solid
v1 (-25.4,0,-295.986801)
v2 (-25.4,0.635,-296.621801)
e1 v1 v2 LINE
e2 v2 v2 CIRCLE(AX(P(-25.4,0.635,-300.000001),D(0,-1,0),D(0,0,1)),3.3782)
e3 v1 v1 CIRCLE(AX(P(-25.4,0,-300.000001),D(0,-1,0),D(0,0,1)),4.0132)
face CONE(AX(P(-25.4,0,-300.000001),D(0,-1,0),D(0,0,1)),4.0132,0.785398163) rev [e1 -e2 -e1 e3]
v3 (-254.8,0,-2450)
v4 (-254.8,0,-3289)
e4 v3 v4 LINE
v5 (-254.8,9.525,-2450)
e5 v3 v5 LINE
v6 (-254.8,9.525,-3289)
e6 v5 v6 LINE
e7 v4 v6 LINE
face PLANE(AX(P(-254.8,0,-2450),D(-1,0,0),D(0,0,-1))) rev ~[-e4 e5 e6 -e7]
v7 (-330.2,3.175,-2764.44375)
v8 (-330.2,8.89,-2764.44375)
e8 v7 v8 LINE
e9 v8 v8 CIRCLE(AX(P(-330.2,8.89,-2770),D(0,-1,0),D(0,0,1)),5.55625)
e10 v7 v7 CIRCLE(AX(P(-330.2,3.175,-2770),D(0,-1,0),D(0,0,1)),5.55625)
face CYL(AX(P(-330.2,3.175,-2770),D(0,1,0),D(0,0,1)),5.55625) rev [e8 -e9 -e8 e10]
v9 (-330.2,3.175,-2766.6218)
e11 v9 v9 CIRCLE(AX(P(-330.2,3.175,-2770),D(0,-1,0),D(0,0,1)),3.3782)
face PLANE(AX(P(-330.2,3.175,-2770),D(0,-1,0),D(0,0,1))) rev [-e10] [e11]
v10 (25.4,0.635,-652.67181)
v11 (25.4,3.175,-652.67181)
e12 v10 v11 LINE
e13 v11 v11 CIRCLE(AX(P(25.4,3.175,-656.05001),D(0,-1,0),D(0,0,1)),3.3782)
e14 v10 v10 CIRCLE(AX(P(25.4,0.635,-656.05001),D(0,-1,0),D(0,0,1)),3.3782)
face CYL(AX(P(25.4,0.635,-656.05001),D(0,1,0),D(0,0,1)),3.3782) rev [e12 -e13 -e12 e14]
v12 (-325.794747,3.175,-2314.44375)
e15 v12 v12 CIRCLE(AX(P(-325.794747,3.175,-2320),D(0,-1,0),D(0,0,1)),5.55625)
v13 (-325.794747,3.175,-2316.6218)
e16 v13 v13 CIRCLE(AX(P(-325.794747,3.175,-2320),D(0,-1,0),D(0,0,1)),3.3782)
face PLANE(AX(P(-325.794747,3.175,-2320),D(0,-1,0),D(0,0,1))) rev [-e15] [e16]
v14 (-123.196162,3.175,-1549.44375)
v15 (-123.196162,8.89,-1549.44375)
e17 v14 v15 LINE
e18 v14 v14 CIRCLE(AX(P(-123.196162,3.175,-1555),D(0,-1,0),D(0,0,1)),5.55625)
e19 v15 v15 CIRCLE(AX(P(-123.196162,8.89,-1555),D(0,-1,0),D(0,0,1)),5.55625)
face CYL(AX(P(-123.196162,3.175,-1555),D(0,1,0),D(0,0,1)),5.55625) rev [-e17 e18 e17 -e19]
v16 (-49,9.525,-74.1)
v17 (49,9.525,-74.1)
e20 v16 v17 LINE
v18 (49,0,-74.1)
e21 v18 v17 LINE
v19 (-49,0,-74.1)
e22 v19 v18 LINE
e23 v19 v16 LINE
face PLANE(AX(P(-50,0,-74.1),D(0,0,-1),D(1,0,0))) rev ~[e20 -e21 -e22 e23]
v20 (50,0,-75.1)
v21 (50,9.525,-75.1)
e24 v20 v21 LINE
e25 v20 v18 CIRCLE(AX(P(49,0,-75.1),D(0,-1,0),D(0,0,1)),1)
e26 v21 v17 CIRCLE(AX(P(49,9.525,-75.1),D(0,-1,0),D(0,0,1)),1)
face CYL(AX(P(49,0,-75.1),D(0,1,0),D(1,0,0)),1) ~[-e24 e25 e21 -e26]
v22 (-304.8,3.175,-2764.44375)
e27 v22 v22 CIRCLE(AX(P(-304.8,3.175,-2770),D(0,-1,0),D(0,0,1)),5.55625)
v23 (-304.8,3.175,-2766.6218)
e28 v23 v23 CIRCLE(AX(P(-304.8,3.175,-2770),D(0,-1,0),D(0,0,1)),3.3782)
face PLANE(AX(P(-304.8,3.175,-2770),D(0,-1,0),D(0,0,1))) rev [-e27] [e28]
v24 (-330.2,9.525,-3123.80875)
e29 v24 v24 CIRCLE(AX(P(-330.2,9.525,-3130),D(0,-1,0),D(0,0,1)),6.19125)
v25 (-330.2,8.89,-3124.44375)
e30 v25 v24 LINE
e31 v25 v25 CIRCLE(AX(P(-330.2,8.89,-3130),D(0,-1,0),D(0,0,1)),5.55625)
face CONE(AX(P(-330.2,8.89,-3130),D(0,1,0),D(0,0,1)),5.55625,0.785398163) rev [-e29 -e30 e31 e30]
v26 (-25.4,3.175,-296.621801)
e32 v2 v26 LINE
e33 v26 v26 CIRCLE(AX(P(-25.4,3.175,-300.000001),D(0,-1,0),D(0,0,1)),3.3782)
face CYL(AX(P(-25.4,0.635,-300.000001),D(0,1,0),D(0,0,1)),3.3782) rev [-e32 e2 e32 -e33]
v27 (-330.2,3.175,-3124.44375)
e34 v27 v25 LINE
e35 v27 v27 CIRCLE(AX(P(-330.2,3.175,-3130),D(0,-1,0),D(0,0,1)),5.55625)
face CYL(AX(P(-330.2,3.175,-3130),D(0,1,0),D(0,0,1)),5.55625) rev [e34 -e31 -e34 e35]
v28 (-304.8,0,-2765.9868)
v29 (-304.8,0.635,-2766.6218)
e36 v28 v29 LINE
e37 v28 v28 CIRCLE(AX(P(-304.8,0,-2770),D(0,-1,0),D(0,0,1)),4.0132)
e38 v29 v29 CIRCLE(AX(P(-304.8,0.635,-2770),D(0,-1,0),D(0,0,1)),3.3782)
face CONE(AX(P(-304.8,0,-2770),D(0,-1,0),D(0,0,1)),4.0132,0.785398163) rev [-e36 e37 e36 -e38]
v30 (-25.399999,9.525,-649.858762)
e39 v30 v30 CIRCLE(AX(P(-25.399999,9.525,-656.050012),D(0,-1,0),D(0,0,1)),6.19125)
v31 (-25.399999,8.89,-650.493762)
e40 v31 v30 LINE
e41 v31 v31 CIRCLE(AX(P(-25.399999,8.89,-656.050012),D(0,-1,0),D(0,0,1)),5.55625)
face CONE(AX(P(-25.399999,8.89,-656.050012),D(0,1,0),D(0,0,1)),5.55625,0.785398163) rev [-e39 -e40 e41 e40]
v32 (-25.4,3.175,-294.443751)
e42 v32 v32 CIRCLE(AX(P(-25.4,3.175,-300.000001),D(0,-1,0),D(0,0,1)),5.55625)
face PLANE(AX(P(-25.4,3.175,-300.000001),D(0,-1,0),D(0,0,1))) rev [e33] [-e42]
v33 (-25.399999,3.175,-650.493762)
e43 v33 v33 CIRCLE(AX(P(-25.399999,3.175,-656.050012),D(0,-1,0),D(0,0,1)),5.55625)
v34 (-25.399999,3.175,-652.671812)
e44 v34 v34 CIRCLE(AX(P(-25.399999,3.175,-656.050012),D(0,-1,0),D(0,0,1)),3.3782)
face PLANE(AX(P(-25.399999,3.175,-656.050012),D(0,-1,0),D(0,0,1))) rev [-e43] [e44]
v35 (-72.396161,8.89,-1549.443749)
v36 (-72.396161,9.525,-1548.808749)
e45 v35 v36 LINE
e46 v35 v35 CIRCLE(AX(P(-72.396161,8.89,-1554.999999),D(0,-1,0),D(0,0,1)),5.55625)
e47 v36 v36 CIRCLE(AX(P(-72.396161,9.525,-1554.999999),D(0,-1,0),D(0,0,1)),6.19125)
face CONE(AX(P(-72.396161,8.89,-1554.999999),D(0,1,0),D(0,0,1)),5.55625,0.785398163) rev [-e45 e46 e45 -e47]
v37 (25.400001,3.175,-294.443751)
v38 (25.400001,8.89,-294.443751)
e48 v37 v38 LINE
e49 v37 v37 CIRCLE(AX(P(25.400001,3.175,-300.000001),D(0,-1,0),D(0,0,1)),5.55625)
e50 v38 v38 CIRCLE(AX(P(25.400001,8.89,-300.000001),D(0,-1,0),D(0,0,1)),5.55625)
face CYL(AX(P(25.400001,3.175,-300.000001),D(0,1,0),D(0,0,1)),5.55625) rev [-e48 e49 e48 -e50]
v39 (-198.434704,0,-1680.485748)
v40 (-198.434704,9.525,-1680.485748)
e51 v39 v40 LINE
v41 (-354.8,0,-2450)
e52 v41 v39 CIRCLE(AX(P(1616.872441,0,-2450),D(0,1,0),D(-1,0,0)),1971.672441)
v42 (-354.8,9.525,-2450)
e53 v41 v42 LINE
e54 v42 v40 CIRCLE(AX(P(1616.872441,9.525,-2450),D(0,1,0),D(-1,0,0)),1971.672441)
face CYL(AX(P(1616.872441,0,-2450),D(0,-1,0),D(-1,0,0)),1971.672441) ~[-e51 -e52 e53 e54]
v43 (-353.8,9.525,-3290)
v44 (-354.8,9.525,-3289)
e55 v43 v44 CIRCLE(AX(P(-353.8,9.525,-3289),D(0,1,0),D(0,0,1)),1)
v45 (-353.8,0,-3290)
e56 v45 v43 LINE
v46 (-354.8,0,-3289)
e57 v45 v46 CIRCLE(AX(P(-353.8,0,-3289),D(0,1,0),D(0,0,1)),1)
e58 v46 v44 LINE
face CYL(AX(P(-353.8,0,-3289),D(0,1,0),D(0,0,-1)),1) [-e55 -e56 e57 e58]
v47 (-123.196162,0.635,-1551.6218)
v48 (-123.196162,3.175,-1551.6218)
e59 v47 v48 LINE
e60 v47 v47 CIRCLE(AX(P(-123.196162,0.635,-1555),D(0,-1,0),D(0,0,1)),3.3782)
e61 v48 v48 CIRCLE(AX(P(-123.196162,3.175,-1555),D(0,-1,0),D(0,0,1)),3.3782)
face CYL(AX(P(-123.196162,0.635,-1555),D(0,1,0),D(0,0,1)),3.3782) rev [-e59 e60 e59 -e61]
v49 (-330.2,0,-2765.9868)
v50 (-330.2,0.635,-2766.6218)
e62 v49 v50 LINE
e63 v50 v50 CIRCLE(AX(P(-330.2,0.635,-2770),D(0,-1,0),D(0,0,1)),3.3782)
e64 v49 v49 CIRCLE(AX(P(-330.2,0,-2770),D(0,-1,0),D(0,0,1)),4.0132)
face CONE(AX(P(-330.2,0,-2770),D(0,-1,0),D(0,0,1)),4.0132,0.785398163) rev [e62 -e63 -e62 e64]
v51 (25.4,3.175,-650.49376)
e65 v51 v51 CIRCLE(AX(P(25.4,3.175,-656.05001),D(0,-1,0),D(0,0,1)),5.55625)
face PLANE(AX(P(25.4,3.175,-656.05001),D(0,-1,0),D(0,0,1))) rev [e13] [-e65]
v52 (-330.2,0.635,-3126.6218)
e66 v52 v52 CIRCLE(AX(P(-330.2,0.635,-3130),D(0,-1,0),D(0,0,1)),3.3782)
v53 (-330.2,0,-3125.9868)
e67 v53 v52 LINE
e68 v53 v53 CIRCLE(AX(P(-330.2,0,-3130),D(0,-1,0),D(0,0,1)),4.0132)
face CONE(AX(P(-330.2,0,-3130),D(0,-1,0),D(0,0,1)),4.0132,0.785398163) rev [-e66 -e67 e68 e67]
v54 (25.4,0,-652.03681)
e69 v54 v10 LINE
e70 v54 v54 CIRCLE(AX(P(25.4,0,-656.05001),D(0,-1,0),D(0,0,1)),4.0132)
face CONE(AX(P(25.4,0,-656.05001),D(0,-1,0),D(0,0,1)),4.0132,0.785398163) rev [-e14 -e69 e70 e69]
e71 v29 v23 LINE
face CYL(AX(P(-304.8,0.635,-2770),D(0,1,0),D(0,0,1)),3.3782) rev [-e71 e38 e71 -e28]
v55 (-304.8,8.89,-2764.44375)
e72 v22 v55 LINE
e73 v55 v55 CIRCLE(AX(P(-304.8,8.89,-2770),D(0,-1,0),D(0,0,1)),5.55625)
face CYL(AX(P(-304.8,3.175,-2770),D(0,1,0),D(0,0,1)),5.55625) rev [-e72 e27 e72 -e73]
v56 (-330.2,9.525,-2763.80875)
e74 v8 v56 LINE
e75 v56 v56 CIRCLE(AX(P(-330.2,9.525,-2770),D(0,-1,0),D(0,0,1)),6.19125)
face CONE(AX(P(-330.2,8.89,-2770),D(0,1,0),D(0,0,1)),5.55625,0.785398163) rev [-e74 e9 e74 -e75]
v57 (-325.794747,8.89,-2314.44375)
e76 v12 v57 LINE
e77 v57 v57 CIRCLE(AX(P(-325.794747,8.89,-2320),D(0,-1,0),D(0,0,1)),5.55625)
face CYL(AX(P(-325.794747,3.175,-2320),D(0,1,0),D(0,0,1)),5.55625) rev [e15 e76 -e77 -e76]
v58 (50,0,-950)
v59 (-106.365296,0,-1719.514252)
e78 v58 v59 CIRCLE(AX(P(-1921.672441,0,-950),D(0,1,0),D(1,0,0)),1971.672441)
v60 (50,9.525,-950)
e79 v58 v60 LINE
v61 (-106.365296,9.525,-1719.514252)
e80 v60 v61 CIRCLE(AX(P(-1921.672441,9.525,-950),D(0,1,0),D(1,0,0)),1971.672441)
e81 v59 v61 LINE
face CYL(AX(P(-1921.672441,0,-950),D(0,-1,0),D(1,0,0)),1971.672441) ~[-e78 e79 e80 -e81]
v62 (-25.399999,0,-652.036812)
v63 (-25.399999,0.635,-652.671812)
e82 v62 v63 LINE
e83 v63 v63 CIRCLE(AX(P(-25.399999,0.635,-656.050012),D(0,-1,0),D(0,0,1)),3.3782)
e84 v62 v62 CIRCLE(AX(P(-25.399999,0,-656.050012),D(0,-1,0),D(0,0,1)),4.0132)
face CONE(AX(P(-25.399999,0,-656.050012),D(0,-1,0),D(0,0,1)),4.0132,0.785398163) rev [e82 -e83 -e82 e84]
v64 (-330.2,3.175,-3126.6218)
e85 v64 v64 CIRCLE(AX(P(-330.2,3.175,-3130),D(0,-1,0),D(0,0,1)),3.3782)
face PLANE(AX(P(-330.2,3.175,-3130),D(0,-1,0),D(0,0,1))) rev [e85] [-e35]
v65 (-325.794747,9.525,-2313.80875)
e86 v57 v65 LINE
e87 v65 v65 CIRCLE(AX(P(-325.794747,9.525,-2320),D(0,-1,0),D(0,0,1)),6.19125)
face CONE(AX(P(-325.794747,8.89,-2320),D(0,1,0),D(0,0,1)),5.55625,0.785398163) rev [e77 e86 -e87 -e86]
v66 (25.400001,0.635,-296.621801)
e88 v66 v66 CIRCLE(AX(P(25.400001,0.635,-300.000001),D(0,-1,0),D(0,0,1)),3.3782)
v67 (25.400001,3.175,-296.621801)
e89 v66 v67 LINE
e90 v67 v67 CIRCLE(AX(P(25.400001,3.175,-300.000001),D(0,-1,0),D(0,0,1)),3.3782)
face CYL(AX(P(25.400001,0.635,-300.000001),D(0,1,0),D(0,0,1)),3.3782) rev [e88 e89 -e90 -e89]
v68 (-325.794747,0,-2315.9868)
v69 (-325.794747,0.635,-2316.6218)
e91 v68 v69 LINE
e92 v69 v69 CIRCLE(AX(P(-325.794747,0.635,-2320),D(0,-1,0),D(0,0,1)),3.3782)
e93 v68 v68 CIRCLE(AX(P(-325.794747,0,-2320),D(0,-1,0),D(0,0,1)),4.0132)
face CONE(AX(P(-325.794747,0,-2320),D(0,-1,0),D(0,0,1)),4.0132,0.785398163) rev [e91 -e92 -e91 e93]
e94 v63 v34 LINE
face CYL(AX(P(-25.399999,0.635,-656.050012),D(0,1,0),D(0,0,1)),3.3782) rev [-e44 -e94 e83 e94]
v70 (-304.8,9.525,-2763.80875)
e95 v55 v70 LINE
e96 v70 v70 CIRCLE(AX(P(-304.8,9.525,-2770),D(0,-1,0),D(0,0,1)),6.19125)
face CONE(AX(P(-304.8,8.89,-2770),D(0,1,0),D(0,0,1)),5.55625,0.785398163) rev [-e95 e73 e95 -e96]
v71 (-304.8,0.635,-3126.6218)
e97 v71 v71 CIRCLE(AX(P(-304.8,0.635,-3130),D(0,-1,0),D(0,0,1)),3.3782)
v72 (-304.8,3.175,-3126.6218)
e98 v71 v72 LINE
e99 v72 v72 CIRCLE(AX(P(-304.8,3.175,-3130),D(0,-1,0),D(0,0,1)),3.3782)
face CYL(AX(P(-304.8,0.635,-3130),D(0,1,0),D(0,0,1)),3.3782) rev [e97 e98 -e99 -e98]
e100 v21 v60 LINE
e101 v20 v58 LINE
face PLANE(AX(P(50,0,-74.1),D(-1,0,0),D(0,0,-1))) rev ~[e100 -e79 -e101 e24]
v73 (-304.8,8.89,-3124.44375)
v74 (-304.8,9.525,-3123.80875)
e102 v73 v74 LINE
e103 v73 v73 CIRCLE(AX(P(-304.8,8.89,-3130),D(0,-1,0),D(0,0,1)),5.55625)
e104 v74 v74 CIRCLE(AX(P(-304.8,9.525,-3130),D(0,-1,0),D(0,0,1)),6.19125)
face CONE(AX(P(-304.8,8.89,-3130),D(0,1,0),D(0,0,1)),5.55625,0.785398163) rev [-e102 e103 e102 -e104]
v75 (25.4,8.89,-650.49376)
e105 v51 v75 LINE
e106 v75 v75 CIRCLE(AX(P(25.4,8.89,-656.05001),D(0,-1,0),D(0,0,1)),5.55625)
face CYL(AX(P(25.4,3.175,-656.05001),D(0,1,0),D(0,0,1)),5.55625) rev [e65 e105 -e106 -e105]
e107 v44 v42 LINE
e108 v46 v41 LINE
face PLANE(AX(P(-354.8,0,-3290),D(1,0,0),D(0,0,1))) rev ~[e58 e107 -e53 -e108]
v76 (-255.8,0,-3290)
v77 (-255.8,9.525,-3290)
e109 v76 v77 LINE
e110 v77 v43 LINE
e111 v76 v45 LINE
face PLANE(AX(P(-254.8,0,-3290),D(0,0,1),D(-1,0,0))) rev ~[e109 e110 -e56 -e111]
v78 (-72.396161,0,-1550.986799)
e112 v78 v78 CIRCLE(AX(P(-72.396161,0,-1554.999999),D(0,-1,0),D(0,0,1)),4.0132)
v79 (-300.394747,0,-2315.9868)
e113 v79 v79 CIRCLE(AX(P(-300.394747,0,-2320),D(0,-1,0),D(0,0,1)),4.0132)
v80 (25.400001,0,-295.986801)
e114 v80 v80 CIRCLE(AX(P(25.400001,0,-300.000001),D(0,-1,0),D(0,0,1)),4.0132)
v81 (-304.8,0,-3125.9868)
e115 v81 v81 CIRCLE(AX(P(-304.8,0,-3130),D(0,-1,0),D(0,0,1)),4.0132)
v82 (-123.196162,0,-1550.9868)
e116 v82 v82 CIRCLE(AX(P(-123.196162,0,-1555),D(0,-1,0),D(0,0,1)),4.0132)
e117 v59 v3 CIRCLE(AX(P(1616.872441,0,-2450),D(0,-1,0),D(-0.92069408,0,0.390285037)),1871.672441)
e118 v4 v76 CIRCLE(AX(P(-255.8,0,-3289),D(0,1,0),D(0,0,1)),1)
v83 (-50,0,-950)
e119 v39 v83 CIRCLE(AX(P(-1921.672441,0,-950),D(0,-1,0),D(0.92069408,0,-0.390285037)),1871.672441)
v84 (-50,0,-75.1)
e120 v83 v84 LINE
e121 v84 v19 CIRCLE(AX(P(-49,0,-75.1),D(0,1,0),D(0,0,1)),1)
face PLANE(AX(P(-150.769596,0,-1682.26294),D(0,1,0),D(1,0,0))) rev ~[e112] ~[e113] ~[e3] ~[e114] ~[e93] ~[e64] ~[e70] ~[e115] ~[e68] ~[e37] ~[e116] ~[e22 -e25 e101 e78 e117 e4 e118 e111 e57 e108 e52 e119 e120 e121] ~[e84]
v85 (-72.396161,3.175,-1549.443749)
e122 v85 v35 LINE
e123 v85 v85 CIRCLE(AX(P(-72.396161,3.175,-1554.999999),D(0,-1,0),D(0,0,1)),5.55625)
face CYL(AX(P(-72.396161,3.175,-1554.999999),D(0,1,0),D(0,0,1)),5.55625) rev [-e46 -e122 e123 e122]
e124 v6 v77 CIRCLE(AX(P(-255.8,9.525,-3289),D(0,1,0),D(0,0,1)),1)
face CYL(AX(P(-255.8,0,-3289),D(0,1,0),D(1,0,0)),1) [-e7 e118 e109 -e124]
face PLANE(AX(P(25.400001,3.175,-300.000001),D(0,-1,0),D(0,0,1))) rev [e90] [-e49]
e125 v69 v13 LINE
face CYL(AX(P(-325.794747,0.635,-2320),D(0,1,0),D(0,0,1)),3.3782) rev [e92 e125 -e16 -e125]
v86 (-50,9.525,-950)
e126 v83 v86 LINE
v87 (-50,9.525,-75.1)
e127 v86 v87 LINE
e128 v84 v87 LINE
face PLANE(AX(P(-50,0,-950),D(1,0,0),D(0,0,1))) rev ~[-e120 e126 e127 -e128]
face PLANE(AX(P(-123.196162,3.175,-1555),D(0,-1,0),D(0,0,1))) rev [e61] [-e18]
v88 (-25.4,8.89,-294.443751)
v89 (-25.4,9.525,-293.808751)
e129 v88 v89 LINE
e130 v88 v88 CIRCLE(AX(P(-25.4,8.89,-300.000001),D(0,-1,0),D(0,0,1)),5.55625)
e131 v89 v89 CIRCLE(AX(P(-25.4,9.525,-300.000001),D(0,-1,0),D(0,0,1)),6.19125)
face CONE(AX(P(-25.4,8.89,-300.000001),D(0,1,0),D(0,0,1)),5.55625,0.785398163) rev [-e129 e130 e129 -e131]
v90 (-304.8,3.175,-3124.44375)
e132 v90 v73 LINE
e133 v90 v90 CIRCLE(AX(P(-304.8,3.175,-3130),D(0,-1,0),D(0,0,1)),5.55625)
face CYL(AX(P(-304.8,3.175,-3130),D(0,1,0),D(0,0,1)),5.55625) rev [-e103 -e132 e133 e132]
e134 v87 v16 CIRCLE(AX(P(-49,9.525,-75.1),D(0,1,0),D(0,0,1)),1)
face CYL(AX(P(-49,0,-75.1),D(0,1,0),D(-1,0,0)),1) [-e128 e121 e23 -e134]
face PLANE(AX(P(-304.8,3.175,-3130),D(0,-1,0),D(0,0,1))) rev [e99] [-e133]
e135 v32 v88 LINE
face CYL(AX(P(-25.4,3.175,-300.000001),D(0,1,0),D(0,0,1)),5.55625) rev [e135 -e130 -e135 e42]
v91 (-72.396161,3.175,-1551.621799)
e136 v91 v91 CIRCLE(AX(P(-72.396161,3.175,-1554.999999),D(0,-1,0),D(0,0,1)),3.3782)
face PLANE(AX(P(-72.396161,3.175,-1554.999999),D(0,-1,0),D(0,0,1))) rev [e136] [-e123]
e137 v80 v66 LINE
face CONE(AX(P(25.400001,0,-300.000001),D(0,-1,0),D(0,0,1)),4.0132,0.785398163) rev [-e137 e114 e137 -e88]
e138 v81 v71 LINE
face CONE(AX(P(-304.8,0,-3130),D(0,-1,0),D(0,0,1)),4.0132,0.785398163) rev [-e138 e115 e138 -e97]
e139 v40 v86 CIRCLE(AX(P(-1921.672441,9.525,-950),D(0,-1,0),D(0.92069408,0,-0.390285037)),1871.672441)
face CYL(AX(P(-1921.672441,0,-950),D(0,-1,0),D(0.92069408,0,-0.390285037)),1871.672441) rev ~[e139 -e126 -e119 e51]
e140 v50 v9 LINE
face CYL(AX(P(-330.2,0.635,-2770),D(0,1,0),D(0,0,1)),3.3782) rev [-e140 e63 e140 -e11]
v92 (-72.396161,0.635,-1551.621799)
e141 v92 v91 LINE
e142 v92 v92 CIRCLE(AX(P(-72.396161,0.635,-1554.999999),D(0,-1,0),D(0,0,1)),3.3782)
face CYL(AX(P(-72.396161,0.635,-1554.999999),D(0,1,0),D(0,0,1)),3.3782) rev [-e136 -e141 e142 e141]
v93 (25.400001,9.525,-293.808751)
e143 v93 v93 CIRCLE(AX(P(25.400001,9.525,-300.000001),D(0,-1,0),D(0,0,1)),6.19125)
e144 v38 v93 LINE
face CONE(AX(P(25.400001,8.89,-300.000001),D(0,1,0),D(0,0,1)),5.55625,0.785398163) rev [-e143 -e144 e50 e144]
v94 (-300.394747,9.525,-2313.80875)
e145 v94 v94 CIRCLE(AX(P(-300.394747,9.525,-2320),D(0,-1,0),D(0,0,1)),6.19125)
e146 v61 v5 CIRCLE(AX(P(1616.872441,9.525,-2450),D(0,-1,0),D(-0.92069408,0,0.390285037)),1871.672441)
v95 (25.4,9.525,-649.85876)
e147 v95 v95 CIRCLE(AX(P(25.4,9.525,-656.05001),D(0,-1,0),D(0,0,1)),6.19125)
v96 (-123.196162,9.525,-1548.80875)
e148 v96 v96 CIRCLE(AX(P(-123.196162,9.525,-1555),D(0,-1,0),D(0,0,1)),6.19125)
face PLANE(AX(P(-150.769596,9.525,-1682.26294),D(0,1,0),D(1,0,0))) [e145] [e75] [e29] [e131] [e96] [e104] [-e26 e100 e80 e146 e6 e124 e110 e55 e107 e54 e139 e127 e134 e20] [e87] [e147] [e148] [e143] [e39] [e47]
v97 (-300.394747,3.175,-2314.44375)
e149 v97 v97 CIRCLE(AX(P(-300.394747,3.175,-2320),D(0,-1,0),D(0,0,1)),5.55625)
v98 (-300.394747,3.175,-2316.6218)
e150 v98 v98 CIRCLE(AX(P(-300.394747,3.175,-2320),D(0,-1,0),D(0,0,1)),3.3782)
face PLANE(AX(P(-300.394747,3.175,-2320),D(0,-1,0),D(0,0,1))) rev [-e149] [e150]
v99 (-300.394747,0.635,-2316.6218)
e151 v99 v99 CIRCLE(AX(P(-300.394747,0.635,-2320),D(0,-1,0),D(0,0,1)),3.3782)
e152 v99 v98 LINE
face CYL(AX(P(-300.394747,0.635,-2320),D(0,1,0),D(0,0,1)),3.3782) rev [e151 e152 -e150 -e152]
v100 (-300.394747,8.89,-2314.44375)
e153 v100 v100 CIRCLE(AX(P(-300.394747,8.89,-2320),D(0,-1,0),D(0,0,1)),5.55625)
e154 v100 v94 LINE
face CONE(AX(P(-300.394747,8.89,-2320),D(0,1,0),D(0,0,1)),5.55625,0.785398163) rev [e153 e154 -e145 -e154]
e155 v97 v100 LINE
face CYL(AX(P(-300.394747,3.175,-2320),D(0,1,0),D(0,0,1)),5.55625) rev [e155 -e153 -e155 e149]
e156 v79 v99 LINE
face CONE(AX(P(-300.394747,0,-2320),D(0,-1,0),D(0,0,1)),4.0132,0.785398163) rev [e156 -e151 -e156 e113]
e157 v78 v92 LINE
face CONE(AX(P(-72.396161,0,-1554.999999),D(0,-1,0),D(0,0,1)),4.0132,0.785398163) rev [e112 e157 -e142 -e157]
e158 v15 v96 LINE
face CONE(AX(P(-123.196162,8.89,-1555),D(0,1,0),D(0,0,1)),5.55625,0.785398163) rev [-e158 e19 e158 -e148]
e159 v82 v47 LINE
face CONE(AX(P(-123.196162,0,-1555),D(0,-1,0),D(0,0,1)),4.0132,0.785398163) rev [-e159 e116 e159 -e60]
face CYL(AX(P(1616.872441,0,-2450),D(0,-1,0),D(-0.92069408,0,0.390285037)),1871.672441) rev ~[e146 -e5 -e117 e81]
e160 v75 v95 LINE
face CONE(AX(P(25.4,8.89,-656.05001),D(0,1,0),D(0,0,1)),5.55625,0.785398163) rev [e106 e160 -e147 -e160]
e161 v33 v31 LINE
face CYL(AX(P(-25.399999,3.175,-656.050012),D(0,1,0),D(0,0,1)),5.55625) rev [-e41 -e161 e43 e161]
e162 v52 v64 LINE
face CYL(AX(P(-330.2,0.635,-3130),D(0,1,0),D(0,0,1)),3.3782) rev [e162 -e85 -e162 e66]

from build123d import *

# Parameters (mm, degrees)
EXTRUDE_THIN1_DEPTH                           = 9.525
FILLET1_R                                     = 1
CBORE_FOR_1_4_SOCKET_HEAD_CAP_SCREW3_AT_COUNT = 2
CBORE_FOR_1_4_SOCKET_HEAD_CAP_SCREW3_AT_PITCH = 25.4
CBORE_FOR_1_4_SOCKET_HEAD_CAP_SCREW3_2_COUNT  = 2
CBORE_FOR_1_4_SOCKET_HEAD_CAP_SCREW3_2_PITCH  = 360
CBORE_FOR_1_4_SOCKET_HEAD_CAP_SCREW3_3_COUNT  = 2
CBORE_FOR_1_4_SOCKET_HEAD_CAP_SCREW3_3_PITCH  = 360.894943162
CBORE_FOR_1_4_SOCKET_HEAD_CAP_SCREW3_4_COUNT  = 2
CBORE_FOR_1_4_SOCKET_HEAD_CAP_SCREW3_4_PITCH  = 810.011979082
CBORE_FOR_1_4_SOCKET_HEAD_CAP_SCREW3_5_COUNT  = 2
CBORE_FOR_1_4_SOCKET_HEAD_CAP_SCREW3_5_PITCH  = 810.272040359
CBORE_FOR_1_4_SOCKET_HEAD_CAP_SCREW3_6_COUNT  = 2
CBORE_FOR_1_4_SOCKET_HEAD_CAP_SCREW3_6_PITCH  = 1592.054190081
CBORE_FOR_1_4_SOCKET_HEAD_CAP_SCREW3_7_COUNT  = 2
CBORE_FOR_1_4_SOCKET_HEAD_CAP_SCREW3_7_PITCH  = 1585.435257008
CBORE_FOR_1_4_SOCKET_HEAD_CAP_SCREW3_8_COUNT  = 2
CBORE_FOR_1_4_SOCKET_HEAD_CAP_SCREW3_8_PITCH  = 2495.888736841
CBORE_FOR_1_4_SOCKET_HEAD_CAP_SCREW3_9_COUNT  = 2
CBORE_FOR_1_4_SOCKET_HEAD_CAP_SCREW3_9_PITCH  = 2489.677269585
CBORE_FOR_1_4_SOCKET_HEAD_CAP_SCREW3_10_COUNT = 2
CBORE_FOR_1_4_SOCKET_HEAD_CAP_SCREW3_10_PITCH = 2849.198490804
CBORE_FOR_1_4_SOCKET_HEAD_CAP_SCREW3_11_COUNT = 2
CBORE_FOR_1_4_SOCKET_HEAD_CAP_SCREW3_11_PITCH = 2843.758843503


with BuildPart() as part:
    # Sketch1 → Extrude-Thin1 (new body)
    with BuildSketch(Plane(origin=(0, 0, 0), x_dir=(1, 0, 0), z_dir=(0, 1, 0))):
        with BuildLine():
            Line((50, 74.1), (50, 950))
            ThreePointArc((50, 950), (10.51327528, 1342.620137537), (-106.365295977, 1719.514251857))
            ThreePointArc((-106.365295977, 1719.514251857), (-217.315977346, 2077.292913403), (-254.8, 2450))
            Line((-254.8, 2450), (-254.8, 3290))
            Line((-254.8, 3290), (-354.8, 3290))
            Line((-354.8, 3290), (-354.8, 2450))
            ThreePointArc((-354.8, 2450), (-315.31327528, 2057.379862463), (-198.434704023, 1680.485748143))
            ThreePointArc((-198.434704023, 1680.485748143), (-87.484022654, 1322.707086597), (-50, 950))
            Line((-50, 950), (-50, 74.1))
            Line((-50, 74.1), (50, 74.1))
        make_face()
    extrude(amount=EXTRUDE_THIN1_DEPTH)

    # Fillet1
    fillet1_edges = [part.edges().sort_by_distance(p)[0] for p in [
        (50, 4.7625, -74.1),
        (-50, 4.7625, -74.1),
        (-354.8, 4.7625, -3290),
        (-254.8, 4.7625, -3290),
    ]]
    fillet(fillet1_edges, radius=FILLET1_R)

    # Sketch7 → CBORE for 1/4 Socket Head Cap Screw3 (revolve, cut)
    with BuildSketch(Plane(origin=(-304.8, 9.525, -3130), x_dir=(0, 0, 1), z_dir=(1, 0, 0))):
        Polygon((0, 0), (0, 9.525), (4.0132, 9.525), (3.3782, 8.89), (3.3782, 6.35), (5.55625, 6.35), (5.55625, 0.635), (6.19125, 0), align=None)
    cbore_for_1_4_socket_head_cap_screw3 = revolve(axis=Axis((-304.8, 15.875, -3130), (0, -1, 0)), mode=Mode.SUBTRACT)

    # CBORE for 1/4 Socket Head Cap Screw3 at: CBORE for 1/4 Socket Head Cap Screw3 ×2
    with Locations(*[(-i * CBORE_FOR_1_4_SOCKET_HEAD_CAP_SCREW3_AT_PITCH, 0, 0) for i in range(1, CBORE_FOR_1_4_SOCKET_HEAD_CAP_SCREW3_AT_COUNT)]):
        add(cbore_for_1_4_socket_head_cap_screw3, mode=Mode.SUBTRACT)

    # CBORE for 1_4 Socket Head Cap Screw3 2: CBORE for 1/4 Socket Head Cap Screw3 ×2
    with Locations(*[(0, 0, i * CBORE_FOR_1_4_SOCKET_HEAD_CAP_SCREW3_2_PITCH) for i in range(1, CBORE_FOR_1_4_SOCKET_HEAD_CAP_SCREW3_2_COUNT)]):
        add(cbore_for_1_4_socket_head_cap_screw3, mode=Mode.SUBTRACT)

    # CBORE for 1_4 Socket Head Cap Screw3 3: CBORE for 1/4 Socket Head Cap Screw3 ×2
    with Locations(*[Vector(-0.070380593, 0, 0.997520211) * (i * CBORE_FOR_1_4_SOCKET_HEAD_CAP_SCREW3_3_PITCH) for i in range(1, CBORE_FOR_1_4_SOCKET_HEAD_CAP_SCREW3_3_COUNT)]):
        add(cbore_for_1_4_socket_head_cap_screw3, mode=Mode.SUBTRACT)

    # CBORE for 1_4 Socket Head Cap Screw3 4: CBORE for 1/4 Socket Head Cap Screw3 ×2
    with Locations(*[Vector(0.005438504, 0, 0.999985211) * (i * CBORE_FOR_1_4_SOCKET_HEAD_CAP_SCREW3_4_PITCH) for i in range(1, CBORE_FOR_1_4_SOCKET_HEAD_CAP_SCREW3_4_COUNT)]):
        add(cbore_for_1_4_socket_head_cap_screw3, mode=Mode.SUBTRACT)

    # CBORE for 1_4 Socket Head Cap Screw3 5: CBORE for 1/4 Socket Head Cap Screw3 ×2
    with Locations(*[Vector(-0.025910738, 0, 0.99966426) * (i * CBORE_FOR_1_4_SOCKET_HEAD_CAP_SCREW3_5_PITCH) for i in range(1, CBORE_FOR_1_4_SOCKET_HEAD_CAP_SCREW3_5_COUNT)]):
        add(cbore_for_1_4_socket_head_cap_screw3, mode=Mode.SUBTRACT)

    # CBORE for 1_4 Socket Head Cap Screw3 6: CBORE for 1/4 Socket Head Cap Screw3 ×2
    with Locations(*[Vector(0.145977342, 0, 0.989287934) * (i * CBORE_FOR_1_4_SOCKET_HEAD_CAP_SCREW3_6_PITCH) for i in range(1, CBORE_FOR_1_4_SOCKET_HEAD_CAP_SCREW3_6_COUNT)]):
        add(cbore_for_1_4_socket_head_cap_screw3, mode=Mode.SUBTRACT)

    # CBORE for 1_4 Socket Head Cap Screw3 7: CBORE for 1/4 Socket Head Cap Screw3 ×2
    with Locations(*[Vector(0.114545099, 0, 0.993418049) * (i * CBORE_FOR_1_4_SOCKET_HEAD_CAP_SCREW3_7_PITCH) for i in range(1, CBORE_FOR_1_4_SOCKET_HEAD_CAP_SCREW3_7_COUNT)]):
        add(cbore_for_1_4_socket_head_cap_screw3, mode=Mode.SUBTRACT)

    # CBORE for 1_4 Socket Head Cap Screw3 8: CBORE for 1/4 Socket Head Cap Screw3 ×2
    with Locations(*[Vector(0.132297564, 0, 0.991210046) * (i * CBORE_FOR_1_4_SOCKET_HEAD_CAP_SCREW3_8_PITCH) for i in range(1, CBORE_FOR_1_4_SOCKET_HEAD_CAP_SCREW3_8_COUNT)]):
        add(cbore_for_1_4_socket_head_cap_screw3, mode=Mode.SUBTRACT)

    # CBORE for 1_4 Socket Head Cap Screw3 9: CBORE for 1/4 Socket Head Cap Screw3 ×2
    with Locations(*[Vector(0.112223381, 0, 0.993683004) * (i * CBORE_FOR_1_4_SOCKET_HEAD_CAP_SCREW3_9_PITCH) for i in range(1, CBORE_FOR_1_4_SOCKET_HEAD_CAP_SCREW3_9_COUNT)]):
        add(cbore_for_1_4_socket_head_cap_screw3, mode=Mode.SUBTRACT)

    # CBORE for 1_4 Socket Head Cap Screw3 10: CBORE for 1/4 Socket Head Cap Screw3 ×2
    with Locations(*[Vector(0.115892242, 0, 0.993261792) * (i * CBORE_FOR_1_4_SOCKET_HEAD_CAP_SCREW3_10_PITCH) for i in range(1, CBORE_FOR_1_4_SOCKET_HEAD_CAP_SCREW3_10_COUNT)]):
        add(cbore_for_1_4_socket_head_cap_screw3, mode=Mode.SUBTRACT)

    # CBORE for 1_4 Socket Head Cap Screw3 11: CBORE for 1/4 Socket Head Cap Screw3 ×2
    with Locations(*[Vector(0.098250244, 0, 0.99516174) * (i * CBORE_FOR_1_4_SOCKET_HEAD_CAP_SCREW3_11_PITCH) for i in range(1, CBORE_FOR_1_4_SOCKET_HEAD_CAP_SCREW3_11_COUNT)]):
        add(cbore_for_1_4_socket_head_cap_screw3, mode=Mode.SUBTRACT)


solid = part.part
